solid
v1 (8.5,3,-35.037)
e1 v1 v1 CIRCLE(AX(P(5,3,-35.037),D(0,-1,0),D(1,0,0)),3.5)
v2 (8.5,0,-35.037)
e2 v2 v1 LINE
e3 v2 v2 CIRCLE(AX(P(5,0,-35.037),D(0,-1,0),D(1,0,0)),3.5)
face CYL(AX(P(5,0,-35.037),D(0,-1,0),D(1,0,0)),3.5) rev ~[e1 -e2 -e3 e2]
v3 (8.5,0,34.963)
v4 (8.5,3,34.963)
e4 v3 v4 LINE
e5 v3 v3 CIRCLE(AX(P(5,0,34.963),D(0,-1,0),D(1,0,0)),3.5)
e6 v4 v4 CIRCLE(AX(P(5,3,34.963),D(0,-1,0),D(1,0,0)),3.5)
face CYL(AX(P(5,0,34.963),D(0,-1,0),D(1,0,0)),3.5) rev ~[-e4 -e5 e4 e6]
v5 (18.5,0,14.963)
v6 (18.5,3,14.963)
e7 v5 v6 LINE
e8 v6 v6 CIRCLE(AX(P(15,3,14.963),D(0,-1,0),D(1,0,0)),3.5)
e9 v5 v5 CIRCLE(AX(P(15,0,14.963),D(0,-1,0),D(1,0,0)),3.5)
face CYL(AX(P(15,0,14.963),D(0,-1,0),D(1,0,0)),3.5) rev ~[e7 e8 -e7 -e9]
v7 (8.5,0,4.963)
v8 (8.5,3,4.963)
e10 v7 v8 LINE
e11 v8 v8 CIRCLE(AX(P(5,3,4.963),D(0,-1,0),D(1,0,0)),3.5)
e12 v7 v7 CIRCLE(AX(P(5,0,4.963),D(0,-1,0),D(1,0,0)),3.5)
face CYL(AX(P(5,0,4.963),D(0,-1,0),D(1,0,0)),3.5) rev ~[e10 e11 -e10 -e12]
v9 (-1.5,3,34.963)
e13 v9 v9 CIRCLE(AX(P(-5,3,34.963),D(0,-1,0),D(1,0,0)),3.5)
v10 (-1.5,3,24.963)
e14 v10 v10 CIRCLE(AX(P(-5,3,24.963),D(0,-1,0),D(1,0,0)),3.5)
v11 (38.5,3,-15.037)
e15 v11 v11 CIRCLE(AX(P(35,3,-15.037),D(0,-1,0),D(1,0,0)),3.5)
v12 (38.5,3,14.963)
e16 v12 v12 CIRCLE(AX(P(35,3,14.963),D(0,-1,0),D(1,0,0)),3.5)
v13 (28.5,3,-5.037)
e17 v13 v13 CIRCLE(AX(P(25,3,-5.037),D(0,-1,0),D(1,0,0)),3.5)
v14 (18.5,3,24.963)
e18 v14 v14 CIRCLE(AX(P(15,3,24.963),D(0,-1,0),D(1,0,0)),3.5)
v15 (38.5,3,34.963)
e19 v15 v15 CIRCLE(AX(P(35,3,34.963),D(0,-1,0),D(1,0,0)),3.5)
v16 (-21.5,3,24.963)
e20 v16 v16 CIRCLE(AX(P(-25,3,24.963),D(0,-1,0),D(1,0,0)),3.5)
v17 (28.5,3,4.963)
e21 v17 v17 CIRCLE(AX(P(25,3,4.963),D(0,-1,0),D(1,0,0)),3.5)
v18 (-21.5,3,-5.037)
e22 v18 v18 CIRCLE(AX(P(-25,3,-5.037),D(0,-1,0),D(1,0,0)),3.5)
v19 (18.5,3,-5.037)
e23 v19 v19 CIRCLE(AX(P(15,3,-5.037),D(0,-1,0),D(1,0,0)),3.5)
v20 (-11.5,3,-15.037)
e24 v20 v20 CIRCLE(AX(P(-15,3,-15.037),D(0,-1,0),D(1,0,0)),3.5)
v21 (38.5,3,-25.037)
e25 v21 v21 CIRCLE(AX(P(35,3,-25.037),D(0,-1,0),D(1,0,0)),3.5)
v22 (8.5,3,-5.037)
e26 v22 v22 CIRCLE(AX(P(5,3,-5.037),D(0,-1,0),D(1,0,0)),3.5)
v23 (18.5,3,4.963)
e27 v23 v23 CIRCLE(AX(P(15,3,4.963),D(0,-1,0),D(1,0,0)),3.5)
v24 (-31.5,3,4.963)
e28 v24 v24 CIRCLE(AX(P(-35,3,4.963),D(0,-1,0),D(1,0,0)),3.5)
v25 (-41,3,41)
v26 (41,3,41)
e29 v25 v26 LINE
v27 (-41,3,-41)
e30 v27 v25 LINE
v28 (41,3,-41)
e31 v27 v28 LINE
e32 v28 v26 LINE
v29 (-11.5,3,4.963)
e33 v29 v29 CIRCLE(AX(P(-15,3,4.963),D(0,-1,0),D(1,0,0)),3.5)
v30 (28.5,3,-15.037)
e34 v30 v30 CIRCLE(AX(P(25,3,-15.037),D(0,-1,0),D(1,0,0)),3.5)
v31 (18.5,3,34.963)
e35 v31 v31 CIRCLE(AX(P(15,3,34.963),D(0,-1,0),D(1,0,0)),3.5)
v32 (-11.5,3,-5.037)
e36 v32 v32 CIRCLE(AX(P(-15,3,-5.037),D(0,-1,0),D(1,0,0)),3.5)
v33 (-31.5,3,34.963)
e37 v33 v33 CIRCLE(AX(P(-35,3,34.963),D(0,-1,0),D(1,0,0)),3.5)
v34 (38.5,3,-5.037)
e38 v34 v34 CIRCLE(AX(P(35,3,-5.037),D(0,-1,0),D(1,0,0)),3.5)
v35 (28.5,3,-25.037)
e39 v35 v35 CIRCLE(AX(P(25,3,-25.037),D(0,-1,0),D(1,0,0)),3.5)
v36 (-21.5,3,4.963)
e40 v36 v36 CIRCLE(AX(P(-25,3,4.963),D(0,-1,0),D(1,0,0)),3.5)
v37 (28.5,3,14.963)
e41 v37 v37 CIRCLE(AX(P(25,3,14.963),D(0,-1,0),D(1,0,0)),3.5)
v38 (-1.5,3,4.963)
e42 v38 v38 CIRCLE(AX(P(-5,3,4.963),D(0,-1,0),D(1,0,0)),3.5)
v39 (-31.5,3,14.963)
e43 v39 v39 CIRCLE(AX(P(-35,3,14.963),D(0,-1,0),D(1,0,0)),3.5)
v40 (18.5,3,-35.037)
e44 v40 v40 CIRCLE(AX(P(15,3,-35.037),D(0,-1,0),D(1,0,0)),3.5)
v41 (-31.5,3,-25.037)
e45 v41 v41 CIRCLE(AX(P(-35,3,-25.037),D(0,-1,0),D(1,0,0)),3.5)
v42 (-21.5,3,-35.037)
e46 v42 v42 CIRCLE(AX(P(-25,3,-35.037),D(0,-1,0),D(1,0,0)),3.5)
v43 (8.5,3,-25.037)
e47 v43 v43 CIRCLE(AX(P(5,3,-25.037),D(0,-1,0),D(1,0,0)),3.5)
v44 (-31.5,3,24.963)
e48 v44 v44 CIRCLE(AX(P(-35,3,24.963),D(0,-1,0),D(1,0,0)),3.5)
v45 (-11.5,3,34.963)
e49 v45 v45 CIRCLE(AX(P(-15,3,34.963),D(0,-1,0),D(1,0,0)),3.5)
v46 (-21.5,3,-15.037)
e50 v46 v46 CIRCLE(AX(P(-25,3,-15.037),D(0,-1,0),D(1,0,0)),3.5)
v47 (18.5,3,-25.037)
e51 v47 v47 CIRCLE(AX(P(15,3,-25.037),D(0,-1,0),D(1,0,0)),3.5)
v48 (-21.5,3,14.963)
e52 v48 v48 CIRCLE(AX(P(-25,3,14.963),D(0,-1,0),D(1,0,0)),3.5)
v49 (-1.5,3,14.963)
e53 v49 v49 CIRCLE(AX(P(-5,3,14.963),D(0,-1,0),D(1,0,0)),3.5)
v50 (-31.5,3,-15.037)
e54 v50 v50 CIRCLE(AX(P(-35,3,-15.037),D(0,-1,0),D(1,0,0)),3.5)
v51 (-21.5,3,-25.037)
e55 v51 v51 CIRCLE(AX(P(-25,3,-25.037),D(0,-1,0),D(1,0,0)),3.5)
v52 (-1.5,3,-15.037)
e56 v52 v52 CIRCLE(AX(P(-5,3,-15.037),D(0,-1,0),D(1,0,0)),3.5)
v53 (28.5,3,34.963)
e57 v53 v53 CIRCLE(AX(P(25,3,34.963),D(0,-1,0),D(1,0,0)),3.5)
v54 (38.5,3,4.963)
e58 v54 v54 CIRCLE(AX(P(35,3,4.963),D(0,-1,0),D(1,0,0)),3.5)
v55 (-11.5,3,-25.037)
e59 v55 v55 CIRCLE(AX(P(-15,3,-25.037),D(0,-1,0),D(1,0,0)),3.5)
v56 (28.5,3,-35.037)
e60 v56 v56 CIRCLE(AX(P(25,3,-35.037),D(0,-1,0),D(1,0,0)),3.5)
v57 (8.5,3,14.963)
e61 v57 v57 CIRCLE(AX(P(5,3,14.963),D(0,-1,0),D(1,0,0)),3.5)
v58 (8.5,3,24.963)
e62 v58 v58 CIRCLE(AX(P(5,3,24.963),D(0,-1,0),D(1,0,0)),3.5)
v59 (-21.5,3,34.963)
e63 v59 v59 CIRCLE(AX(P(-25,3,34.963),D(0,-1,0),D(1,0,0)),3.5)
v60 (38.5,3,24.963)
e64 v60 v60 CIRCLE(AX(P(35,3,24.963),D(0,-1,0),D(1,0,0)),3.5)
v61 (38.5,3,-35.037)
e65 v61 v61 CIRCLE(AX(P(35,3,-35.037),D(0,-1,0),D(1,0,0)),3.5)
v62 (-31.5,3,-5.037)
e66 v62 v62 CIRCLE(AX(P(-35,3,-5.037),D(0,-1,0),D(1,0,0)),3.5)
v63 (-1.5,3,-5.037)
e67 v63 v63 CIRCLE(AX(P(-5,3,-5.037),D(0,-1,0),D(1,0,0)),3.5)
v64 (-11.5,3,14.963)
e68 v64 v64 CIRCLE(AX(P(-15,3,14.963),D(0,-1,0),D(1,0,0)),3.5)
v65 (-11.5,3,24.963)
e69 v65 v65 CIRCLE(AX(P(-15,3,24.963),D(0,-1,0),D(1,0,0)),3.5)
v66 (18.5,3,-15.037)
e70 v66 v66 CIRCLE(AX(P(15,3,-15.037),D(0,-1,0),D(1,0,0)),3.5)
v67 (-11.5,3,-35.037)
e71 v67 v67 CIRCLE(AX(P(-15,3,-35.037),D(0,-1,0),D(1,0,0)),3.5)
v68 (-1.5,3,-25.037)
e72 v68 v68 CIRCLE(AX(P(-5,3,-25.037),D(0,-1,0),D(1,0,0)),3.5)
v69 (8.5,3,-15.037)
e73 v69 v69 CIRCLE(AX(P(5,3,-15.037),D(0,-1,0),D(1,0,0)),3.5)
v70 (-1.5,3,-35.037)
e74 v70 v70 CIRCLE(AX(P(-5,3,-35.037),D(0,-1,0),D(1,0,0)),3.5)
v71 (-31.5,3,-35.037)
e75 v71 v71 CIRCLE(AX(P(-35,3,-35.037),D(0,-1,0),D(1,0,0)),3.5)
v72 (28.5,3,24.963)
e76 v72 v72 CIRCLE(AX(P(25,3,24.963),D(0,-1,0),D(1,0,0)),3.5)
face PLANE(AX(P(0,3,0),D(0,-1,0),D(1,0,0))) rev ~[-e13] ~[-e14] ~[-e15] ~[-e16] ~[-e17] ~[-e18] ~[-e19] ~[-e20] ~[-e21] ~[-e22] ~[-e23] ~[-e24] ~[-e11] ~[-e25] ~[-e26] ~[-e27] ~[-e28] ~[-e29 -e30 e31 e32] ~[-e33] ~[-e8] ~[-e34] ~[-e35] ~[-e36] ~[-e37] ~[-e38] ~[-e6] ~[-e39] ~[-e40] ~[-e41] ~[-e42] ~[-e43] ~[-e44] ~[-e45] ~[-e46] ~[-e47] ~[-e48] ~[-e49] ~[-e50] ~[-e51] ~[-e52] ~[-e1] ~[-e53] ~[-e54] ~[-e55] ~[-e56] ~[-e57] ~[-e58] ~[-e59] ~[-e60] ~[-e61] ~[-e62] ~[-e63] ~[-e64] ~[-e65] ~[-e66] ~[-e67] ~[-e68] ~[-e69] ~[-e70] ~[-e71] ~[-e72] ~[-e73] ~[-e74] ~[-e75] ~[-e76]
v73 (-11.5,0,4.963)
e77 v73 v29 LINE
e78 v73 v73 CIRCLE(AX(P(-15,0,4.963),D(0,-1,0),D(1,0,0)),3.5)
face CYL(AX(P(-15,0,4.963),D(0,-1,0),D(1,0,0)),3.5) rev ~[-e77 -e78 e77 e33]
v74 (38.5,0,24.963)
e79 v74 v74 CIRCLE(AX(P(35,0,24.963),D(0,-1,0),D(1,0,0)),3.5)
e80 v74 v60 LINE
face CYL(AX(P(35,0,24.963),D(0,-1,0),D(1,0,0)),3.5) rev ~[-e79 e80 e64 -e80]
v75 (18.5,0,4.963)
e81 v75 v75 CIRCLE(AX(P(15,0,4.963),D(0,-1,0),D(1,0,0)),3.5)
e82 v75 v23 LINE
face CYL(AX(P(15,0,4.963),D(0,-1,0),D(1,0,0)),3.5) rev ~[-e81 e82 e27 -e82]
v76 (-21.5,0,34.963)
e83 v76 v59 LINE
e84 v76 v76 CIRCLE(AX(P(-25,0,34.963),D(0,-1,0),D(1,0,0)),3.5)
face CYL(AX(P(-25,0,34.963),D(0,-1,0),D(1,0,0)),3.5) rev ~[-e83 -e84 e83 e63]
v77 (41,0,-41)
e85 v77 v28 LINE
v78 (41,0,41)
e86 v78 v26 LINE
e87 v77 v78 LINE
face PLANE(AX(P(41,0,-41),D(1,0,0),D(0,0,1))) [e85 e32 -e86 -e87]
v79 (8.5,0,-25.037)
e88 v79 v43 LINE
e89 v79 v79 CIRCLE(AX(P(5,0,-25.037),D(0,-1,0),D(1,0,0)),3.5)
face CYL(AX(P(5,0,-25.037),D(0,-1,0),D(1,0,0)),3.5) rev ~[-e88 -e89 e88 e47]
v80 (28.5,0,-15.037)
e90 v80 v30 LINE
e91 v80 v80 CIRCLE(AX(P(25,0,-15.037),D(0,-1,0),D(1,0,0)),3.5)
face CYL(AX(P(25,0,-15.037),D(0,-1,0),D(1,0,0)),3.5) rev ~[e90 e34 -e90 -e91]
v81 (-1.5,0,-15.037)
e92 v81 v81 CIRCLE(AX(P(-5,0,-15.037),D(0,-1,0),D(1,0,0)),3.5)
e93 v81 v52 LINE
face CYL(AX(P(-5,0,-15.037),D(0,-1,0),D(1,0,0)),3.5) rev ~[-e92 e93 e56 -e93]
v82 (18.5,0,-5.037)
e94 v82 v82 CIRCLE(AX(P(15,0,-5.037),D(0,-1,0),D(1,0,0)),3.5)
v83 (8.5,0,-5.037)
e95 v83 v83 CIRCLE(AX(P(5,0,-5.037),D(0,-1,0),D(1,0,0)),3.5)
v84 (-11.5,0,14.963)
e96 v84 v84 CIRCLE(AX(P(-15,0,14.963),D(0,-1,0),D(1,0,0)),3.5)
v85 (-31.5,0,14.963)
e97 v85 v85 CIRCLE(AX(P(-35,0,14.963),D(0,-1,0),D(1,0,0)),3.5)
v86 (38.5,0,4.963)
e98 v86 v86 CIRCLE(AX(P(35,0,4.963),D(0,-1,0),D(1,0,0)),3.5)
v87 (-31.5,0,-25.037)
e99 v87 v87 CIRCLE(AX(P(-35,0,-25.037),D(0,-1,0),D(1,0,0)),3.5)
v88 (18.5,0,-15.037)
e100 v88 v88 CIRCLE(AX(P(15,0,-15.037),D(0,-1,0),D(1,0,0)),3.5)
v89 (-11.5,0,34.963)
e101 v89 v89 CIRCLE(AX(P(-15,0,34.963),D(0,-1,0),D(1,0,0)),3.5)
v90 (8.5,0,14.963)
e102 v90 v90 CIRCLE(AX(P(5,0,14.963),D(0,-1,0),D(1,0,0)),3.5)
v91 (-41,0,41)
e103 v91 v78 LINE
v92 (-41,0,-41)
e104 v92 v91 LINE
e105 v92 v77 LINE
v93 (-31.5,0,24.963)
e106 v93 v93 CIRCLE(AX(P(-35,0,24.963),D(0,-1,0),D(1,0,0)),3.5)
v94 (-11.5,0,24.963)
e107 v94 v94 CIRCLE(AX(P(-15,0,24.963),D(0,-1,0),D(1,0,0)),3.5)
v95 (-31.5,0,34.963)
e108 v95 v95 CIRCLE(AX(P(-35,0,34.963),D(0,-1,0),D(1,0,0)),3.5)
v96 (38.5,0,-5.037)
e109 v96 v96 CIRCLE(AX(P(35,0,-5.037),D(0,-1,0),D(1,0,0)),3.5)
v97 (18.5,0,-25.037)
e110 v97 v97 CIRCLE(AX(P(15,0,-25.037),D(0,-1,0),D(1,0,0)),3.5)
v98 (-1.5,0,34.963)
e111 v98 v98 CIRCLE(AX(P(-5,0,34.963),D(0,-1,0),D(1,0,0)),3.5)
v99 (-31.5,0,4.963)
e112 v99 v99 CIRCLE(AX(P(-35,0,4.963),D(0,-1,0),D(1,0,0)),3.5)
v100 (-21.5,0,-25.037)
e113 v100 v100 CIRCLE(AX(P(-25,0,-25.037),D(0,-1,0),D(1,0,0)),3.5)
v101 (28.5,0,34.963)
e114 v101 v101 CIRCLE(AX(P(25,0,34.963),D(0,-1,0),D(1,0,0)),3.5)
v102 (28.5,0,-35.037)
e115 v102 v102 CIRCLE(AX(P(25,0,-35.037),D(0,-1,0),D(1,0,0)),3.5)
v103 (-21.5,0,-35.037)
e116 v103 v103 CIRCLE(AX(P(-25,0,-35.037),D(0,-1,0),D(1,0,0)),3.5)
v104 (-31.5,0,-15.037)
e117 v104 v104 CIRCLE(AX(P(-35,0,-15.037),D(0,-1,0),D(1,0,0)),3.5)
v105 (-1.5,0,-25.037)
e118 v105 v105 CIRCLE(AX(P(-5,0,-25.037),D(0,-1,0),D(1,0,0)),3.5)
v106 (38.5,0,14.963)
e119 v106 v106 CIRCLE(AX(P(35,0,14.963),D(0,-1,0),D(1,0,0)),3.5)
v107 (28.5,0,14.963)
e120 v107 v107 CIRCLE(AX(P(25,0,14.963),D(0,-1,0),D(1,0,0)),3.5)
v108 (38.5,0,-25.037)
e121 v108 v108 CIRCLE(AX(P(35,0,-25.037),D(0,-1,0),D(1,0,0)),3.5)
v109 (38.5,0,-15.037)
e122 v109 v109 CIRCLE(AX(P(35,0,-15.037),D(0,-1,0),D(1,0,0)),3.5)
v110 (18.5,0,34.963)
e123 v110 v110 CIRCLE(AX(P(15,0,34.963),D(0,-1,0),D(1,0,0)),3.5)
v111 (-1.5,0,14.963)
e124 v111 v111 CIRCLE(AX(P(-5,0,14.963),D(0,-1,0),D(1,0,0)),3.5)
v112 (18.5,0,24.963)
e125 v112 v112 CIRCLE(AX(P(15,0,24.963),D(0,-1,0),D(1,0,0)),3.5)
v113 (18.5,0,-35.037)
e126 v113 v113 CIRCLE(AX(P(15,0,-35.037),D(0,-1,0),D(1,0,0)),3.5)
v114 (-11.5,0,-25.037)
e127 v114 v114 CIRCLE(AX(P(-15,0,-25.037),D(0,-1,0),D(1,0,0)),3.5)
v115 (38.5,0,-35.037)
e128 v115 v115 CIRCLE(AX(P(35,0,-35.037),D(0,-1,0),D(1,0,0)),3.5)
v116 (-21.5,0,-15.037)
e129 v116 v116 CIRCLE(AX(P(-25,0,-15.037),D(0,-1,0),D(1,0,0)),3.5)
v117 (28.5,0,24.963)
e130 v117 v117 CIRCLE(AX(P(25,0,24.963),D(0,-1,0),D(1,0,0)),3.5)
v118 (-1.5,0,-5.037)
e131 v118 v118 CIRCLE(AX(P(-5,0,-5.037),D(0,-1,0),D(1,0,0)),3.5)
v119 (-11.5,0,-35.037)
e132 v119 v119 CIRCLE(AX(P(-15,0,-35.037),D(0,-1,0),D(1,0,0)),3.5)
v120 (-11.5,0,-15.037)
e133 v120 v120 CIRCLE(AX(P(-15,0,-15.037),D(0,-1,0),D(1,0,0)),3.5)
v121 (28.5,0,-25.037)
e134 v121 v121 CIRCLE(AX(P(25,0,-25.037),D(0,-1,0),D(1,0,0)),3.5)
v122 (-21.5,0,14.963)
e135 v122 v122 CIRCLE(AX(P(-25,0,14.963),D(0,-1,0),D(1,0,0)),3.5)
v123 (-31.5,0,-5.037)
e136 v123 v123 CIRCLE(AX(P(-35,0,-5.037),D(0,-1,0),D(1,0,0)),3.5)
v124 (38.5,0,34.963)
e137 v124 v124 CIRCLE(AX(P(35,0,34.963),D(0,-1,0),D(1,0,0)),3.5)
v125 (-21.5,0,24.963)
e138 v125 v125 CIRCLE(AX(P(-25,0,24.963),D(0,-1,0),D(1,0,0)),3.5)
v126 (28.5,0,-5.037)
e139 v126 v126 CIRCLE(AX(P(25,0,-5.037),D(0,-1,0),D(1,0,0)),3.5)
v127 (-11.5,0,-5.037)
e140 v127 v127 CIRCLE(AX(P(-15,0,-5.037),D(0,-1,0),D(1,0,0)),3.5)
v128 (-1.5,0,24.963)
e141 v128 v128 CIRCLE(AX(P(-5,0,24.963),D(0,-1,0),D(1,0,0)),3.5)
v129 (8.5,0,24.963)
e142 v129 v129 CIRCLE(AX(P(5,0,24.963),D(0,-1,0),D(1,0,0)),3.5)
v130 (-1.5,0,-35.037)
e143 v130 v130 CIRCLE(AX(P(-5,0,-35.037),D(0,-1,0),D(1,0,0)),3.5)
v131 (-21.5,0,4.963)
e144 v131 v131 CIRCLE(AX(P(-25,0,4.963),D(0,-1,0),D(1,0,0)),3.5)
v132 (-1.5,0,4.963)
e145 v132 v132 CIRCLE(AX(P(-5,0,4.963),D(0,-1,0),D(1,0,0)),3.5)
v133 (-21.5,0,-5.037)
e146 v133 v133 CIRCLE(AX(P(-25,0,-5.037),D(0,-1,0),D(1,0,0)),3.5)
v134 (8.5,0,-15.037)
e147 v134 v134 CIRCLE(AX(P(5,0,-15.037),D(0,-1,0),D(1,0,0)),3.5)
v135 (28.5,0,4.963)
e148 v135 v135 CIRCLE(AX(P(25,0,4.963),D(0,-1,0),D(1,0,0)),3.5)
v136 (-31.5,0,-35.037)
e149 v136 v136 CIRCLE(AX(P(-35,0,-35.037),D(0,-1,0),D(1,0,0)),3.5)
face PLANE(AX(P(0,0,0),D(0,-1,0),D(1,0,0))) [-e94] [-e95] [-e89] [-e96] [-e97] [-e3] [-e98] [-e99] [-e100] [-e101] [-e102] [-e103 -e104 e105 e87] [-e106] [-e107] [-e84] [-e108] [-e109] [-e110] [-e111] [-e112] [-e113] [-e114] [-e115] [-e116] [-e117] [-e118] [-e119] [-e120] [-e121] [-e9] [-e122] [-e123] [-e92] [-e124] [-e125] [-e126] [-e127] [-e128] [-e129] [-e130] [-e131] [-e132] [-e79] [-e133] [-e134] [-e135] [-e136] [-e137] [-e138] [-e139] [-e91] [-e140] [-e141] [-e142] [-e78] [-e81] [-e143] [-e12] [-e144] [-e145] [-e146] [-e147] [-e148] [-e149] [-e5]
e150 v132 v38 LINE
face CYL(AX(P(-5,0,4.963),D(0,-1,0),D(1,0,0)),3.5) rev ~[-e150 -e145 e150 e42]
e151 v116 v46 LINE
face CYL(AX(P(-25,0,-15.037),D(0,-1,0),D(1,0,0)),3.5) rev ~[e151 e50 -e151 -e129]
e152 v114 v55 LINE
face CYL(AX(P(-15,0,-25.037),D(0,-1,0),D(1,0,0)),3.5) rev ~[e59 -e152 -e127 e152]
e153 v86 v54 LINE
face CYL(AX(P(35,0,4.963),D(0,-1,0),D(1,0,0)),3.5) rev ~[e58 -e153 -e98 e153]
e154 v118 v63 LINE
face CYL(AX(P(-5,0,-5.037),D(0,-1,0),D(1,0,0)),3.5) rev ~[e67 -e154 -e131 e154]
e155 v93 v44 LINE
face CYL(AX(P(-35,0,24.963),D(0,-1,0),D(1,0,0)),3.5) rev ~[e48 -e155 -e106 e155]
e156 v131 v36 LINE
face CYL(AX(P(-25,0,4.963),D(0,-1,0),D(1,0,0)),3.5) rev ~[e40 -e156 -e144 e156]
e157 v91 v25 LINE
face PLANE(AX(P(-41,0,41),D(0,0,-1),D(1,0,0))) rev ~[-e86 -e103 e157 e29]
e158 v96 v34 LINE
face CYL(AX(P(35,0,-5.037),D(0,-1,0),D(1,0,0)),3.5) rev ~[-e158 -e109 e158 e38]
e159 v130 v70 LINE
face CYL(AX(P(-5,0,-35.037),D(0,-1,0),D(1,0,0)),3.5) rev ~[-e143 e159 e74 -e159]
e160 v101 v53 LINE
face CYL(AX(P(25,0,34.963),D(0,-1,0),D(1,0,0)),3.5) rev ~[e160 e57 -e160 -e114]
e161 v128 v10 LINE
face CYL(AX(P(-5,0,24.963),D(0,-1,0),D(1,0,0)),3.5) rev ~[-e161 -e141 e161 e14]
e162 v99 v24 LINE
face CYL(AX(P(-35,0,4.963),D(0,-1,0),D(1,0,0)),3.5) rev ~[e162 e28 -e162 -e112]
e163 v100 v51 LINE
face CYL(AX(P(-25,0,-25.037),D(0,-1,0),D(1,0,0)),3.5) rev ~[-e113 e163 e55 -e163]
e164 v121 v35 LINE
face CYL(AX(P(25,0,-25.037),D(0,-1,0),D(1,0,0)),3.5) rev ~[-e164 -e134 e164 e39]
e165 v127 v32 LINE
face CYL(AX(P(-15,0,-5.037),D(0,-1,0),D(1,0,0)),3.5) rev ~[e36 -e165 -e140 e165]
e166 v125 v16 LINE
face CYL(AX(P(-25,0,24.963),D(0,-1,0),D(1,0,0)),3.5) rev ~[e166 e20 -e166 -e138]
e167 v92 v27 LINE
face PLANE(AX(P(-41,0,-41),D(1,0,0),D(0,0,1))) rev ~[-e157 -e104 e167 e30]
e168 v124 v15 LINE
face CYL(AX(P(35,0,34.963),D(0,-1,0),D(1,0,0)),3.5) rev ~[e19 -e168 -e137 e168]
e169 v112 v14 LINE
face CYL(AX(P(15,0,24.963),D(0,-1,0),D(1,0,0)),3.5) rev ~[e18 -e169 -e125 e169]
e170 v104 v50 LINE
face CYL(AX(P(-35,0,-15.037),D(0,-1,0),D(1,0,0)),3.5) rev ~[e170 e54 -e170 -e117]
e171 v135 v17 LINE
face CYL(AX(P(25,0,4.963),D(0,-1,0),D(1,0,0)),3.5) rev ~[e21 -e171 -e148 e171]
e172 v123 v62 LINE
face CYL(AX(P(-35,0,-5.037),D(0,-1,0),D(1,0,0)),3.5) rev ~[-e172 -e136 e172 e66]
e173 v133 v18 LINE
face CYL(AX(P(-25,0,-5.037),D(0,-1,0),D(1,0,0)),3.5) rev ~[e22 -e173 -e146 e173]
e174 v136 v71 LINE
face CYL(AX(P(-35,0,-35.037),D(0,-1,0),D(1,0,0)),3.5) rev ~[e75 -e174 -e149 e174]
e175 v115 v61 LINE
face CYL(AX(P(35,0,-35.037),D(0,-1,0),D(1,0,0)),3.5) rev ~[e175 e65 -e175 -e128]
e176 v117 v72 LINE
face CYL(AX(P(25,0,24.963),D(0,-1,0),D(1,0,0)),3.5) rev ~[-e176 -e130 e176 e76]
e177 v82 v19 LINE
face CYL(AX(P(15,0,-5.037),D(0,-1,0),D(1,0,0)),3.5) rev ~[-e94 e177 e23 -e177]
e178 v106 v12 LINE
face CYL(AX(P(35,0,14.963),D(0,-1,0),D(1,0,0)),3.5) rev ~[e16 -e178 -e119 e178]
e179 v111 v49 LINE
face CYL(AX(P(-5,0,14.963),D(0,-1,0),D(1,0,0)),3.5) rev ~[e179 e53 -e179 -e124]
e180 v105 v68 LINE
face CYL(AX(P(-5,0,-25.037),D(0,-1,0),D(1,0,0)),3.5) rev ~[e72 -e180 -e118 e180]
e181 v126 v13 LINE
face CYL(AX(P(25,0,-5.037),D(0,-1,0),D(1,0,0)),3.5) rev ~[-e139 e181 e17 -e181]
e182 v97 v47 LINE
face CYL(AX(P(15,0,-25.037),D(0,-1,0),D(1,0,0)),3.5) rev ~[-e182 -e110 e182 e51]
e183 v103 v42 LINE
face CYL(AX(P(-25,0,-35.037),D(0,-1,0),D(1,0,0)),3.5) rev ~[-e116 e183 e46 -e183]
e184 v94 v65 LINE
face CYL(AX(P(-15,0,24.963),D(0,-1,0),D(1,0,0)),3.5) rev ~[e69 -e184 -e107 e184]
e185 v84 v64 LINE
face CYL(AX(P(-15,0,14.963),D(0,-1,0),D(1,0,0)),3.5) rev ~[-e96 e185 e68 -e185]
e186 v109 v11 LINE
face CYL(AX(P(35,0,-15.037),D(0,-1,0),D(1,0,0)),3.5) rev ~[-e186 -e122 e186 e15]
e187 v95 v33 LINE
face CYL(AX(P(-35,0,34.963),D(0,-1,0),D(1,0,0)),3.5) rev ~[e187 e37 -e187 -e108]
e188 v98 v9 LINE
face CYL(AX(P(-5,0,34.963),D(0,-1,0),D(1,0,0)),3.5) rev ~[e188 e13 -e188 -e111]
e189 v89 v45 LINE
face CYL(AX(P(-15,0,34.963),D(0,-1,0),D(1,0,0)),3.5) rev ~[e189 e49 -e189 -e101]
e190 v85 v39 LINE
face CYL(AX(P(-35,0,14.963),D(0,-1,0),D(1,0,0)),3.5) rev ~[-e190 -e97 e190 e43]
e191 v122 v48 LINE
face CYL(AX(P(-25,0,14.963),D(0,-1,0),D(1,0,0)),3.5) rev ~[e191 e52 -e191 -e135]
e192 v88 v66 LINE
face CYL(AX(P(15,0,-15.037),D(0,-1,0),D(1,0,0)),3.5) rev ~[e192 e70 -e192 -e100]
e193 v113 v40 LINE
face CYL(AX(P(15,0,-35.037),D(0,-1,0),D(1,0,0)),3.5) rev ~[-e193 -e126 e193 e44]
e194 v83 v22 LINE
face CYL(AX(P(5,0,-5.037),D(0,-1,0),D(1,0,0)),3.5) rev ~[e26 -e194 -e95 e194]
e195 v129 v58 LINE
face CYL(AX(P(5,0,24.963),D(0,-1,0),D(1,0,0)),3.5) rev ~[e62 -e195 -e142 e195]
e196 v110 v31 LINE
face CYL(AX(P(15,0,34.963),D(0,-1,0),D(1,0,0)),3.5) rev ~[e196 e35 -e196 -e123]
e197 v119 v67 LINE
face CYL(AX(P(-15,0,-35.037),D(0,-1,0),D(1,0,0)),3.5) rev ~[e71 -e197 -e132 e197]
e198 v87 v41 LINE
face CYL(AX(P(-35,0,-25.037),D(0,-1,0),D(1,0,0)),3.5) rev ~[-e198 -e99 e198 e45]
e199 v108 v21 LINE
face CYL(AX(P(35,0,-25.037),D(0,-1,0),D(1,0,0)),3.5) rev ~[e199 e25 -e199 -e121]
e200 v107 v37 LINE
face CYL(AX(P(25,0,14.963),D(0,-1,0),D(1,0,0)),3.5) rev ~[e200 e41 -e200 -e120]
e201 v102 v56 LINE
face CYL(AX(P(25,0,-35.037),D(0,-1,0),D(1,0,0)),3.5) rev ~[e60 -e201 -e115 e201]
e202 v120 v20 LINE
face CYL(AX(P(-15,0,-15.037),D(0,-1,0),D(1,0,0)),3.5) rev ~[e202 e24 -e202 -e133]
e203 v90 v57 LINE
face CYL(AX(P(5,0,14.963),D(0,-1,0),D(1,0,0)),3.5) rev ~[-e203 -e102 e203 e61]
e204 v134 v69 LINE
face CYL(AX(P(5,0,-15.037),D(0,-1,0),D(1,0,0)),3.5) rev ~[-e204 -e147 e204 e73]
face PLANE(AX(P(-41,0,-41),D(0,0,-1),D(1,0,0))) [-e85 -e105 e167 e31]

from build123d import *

# Parameters (mm, degrees)
SKETCH003_W                  = 82
SKETCH003_H                  = 82
PAD002_DEPTH                 = 3
SKETCH004_R                  = 3.5
POCKET_DEPTH                 = 3
SKETCH004_LINEARPATTERN_2_R  = 3.5
POCKET_LINEARPATTERN_2_DEPTH = 3
SKETCH004_LINEARPATTERN_3_R  = 3.5
POCKET_LINEARPATTERN_3_DEPTH = 3
SKETCH004_LINEARPATTERN_4_R  = 3.5
POCKET_LINEARPATTERN_4_DEPTH = 3
SKETCH004_LINEARPATTERN_5_R  = 3.5
POCKET_LINEARPATTERN_5_DEPTH = 3
SKETCH004_LINEARPATTERN_6_R  = 3.5
POCKET_LINEARPATTERN_6_DEPTH = 3
SKETCH004_LINEARPATTERN_7_R  = 3.5
POCKET_LINEARPATTERN_7_DEPTH = 3
SKETCH004_LINEARPATTERN_8_R  = 3.5
POCKET_LINEARPATTERN_8_DEPTH = 3
LINEARPATTERN001_COUNT       = 8
LINEARPATTERN001_PITCH       = 10


with BuildPart() as part:
    # Sketch003 → Pad002 (new body)
    with BuildSketch(Plane.XZ):
        Rectangle(SKETCH003_W, SKETCH003_H)
    extrude(amount=-PAD002_DEPTH)

    # Sketch004 → Pocket (cut)
    with BuildSketch(Plane.XZ):
        with Locations((-35, 34.963)):
            Circle(SKETCH004_R)
    pocket = extrude(amount=-POCKET_DEPTH, mode=Mode.SUBTRACT)

    # Sketch004 LinearPattern 2 → Pocket LinearPattern 2 (cut)
    with BuildSketch(Plane(origin=(10, 0, 0), x_dir=(1, 0, 0), z_dir=(0, -1, 0))):
        with Locations((-35, 34.963)):
            Circle(SKETCH004_LINEARPATTERN_2_R)
    pocket_linearpattern_2 = extrude(amount=-POCKET_LINEARPATTERN_2_DEPTH, mode=Mode.SUBTRACT)

    # Sketch004 LinearPattern 3 → Pocket LinearPattern 3 (cut)
    with BuildSketch(Plane(origin=(20, 0, 0), x_dir=(1, 0, 0), z_dir=(0, -1, 0))):
        with Locations((-35, 34.963)):
            Circle(SKETCH004_LINEARPATTERN_3_R)
    pocket_linearpattern_3 = extrude(amount=-POCKET_LINEARPATTERN_3_DEPTH, mode=Mode.SUBTRACT)

    # Sketch004 LinearPattern 4 → Pocket LinearPattern 4 (cut)
    with BuildSketch(Plane(origin=(30, 0, 0), x_dir=(1, 0, 0), z_dir=(0, -1, 0))):
        with Locations((-35, 34.963)):
            Circle(SKETCH004_LINEARPATTERN_4_R)
    pocket_linearpattern_4 = extrude(amount=-POCKET_LINEARPATTERN_4_DEPTH, mode=Mode.SUBTRACT)

    # Sketch004 LinearPattern 5 → Pocket LinearPattern 5 (cut)
    with BuildSketch(Plane(origin=(40, 0, 0), x_dir=(1, 0, 0), z_dir=(0, -1, 0))):
        with Locations((-35, 34.963)):
            Circle(SKETCH004_LINEARPATTERN_5_R)
    pocket_linearpattern_5 = extrude(amount=-POCKET_LINEARPATTERN_5_DEPTH, mode=Mode.SUBTRACT)

    # Sketch004 LinearPattern 6 → Pocket LinearPattern 6 (cut)
    with BuildSketch(Plane(origin=(50, 0, 0), x_dir=(1, 0, 0), z_dir=(0, -1, 0))):
        with Locations((-35, 34.963)):
            Circle(SKETCH004_LINEARPATTERN_6_R)
    pocket_linearpattern_6 = extrude(amount=-POCKET_LINEARPATTERN_6_DEPTH, mode=Mode.SUBTRACT)

    # Sketch004 LinearPattern 7 → Pocket LinearPattern 7 (cut)
    with BuildSketch(Plane(origin=(60, 0, 0), x_dir=(1, 0, 0), z_dir=(0, -1, 0))):
        with Locations((-35, 34.963)):
            Circle(SKETCH004_LINEARPATTERN_7_R)
    pocket_linearpattern_7 = extrude(amount=-POCKET_LINEARPATTERN_7_DEPTH, mode=Mode.SUBTRACT)

    # Sketch004 LinearPattern 8 → Pocket LinearPattern 8 (cut)
    with BuildSketch(Plane(origin=(70, 0, 0), x_dir=(1, 0, 0), z_dir=(0, -1, 0))):
        with Locations((-35, 34.963)):
            Circle(SKETCH004_LINEARPATTERN_8_R)
    pocket_linearpattern_8 = extrude(amount=-POCKET_LINEARPATTERN_8_DEPTH, mode=Mode.SUBTRACT)

    # LinearPattern001: Pocket, Pocket LinearPattern 2, Pocket LinearPattern 3, Pocket LinearPattern 4, Pocket LinearPattern 5, Pocket LinearPattern 6, Pocket LinearPattern 7, Pocket LinearPattern 8 ×8
    with Locations(*[(0, 0, -i * LINEARPATTERN001_PITCH) for i in range(1, LINEARPATTERN001_COUNT)]):
        add(pocket, mode=Mode.SUBTRACT)
        add(pocket_linearpattern_2, mode=Mode.SUBTRACT)
        add(pocket_linearpattern_3, mode=Mode.SUBTRACT)
        add(pocket_linearpattern_4, mode=Mode.SUBTRACT)
        add(pocket_linearpattern_5, mode=Mode.SUBTRACT)
        add(pocket_linearpattern_6, mode=Mode.SUBTRACT)
        add(pocket_linearpattern_7, mode=Mode.SUBTRACT)
        add(pocket_linearpattern_8, mode=Mode.SUBTRACT)


solid = part.part
